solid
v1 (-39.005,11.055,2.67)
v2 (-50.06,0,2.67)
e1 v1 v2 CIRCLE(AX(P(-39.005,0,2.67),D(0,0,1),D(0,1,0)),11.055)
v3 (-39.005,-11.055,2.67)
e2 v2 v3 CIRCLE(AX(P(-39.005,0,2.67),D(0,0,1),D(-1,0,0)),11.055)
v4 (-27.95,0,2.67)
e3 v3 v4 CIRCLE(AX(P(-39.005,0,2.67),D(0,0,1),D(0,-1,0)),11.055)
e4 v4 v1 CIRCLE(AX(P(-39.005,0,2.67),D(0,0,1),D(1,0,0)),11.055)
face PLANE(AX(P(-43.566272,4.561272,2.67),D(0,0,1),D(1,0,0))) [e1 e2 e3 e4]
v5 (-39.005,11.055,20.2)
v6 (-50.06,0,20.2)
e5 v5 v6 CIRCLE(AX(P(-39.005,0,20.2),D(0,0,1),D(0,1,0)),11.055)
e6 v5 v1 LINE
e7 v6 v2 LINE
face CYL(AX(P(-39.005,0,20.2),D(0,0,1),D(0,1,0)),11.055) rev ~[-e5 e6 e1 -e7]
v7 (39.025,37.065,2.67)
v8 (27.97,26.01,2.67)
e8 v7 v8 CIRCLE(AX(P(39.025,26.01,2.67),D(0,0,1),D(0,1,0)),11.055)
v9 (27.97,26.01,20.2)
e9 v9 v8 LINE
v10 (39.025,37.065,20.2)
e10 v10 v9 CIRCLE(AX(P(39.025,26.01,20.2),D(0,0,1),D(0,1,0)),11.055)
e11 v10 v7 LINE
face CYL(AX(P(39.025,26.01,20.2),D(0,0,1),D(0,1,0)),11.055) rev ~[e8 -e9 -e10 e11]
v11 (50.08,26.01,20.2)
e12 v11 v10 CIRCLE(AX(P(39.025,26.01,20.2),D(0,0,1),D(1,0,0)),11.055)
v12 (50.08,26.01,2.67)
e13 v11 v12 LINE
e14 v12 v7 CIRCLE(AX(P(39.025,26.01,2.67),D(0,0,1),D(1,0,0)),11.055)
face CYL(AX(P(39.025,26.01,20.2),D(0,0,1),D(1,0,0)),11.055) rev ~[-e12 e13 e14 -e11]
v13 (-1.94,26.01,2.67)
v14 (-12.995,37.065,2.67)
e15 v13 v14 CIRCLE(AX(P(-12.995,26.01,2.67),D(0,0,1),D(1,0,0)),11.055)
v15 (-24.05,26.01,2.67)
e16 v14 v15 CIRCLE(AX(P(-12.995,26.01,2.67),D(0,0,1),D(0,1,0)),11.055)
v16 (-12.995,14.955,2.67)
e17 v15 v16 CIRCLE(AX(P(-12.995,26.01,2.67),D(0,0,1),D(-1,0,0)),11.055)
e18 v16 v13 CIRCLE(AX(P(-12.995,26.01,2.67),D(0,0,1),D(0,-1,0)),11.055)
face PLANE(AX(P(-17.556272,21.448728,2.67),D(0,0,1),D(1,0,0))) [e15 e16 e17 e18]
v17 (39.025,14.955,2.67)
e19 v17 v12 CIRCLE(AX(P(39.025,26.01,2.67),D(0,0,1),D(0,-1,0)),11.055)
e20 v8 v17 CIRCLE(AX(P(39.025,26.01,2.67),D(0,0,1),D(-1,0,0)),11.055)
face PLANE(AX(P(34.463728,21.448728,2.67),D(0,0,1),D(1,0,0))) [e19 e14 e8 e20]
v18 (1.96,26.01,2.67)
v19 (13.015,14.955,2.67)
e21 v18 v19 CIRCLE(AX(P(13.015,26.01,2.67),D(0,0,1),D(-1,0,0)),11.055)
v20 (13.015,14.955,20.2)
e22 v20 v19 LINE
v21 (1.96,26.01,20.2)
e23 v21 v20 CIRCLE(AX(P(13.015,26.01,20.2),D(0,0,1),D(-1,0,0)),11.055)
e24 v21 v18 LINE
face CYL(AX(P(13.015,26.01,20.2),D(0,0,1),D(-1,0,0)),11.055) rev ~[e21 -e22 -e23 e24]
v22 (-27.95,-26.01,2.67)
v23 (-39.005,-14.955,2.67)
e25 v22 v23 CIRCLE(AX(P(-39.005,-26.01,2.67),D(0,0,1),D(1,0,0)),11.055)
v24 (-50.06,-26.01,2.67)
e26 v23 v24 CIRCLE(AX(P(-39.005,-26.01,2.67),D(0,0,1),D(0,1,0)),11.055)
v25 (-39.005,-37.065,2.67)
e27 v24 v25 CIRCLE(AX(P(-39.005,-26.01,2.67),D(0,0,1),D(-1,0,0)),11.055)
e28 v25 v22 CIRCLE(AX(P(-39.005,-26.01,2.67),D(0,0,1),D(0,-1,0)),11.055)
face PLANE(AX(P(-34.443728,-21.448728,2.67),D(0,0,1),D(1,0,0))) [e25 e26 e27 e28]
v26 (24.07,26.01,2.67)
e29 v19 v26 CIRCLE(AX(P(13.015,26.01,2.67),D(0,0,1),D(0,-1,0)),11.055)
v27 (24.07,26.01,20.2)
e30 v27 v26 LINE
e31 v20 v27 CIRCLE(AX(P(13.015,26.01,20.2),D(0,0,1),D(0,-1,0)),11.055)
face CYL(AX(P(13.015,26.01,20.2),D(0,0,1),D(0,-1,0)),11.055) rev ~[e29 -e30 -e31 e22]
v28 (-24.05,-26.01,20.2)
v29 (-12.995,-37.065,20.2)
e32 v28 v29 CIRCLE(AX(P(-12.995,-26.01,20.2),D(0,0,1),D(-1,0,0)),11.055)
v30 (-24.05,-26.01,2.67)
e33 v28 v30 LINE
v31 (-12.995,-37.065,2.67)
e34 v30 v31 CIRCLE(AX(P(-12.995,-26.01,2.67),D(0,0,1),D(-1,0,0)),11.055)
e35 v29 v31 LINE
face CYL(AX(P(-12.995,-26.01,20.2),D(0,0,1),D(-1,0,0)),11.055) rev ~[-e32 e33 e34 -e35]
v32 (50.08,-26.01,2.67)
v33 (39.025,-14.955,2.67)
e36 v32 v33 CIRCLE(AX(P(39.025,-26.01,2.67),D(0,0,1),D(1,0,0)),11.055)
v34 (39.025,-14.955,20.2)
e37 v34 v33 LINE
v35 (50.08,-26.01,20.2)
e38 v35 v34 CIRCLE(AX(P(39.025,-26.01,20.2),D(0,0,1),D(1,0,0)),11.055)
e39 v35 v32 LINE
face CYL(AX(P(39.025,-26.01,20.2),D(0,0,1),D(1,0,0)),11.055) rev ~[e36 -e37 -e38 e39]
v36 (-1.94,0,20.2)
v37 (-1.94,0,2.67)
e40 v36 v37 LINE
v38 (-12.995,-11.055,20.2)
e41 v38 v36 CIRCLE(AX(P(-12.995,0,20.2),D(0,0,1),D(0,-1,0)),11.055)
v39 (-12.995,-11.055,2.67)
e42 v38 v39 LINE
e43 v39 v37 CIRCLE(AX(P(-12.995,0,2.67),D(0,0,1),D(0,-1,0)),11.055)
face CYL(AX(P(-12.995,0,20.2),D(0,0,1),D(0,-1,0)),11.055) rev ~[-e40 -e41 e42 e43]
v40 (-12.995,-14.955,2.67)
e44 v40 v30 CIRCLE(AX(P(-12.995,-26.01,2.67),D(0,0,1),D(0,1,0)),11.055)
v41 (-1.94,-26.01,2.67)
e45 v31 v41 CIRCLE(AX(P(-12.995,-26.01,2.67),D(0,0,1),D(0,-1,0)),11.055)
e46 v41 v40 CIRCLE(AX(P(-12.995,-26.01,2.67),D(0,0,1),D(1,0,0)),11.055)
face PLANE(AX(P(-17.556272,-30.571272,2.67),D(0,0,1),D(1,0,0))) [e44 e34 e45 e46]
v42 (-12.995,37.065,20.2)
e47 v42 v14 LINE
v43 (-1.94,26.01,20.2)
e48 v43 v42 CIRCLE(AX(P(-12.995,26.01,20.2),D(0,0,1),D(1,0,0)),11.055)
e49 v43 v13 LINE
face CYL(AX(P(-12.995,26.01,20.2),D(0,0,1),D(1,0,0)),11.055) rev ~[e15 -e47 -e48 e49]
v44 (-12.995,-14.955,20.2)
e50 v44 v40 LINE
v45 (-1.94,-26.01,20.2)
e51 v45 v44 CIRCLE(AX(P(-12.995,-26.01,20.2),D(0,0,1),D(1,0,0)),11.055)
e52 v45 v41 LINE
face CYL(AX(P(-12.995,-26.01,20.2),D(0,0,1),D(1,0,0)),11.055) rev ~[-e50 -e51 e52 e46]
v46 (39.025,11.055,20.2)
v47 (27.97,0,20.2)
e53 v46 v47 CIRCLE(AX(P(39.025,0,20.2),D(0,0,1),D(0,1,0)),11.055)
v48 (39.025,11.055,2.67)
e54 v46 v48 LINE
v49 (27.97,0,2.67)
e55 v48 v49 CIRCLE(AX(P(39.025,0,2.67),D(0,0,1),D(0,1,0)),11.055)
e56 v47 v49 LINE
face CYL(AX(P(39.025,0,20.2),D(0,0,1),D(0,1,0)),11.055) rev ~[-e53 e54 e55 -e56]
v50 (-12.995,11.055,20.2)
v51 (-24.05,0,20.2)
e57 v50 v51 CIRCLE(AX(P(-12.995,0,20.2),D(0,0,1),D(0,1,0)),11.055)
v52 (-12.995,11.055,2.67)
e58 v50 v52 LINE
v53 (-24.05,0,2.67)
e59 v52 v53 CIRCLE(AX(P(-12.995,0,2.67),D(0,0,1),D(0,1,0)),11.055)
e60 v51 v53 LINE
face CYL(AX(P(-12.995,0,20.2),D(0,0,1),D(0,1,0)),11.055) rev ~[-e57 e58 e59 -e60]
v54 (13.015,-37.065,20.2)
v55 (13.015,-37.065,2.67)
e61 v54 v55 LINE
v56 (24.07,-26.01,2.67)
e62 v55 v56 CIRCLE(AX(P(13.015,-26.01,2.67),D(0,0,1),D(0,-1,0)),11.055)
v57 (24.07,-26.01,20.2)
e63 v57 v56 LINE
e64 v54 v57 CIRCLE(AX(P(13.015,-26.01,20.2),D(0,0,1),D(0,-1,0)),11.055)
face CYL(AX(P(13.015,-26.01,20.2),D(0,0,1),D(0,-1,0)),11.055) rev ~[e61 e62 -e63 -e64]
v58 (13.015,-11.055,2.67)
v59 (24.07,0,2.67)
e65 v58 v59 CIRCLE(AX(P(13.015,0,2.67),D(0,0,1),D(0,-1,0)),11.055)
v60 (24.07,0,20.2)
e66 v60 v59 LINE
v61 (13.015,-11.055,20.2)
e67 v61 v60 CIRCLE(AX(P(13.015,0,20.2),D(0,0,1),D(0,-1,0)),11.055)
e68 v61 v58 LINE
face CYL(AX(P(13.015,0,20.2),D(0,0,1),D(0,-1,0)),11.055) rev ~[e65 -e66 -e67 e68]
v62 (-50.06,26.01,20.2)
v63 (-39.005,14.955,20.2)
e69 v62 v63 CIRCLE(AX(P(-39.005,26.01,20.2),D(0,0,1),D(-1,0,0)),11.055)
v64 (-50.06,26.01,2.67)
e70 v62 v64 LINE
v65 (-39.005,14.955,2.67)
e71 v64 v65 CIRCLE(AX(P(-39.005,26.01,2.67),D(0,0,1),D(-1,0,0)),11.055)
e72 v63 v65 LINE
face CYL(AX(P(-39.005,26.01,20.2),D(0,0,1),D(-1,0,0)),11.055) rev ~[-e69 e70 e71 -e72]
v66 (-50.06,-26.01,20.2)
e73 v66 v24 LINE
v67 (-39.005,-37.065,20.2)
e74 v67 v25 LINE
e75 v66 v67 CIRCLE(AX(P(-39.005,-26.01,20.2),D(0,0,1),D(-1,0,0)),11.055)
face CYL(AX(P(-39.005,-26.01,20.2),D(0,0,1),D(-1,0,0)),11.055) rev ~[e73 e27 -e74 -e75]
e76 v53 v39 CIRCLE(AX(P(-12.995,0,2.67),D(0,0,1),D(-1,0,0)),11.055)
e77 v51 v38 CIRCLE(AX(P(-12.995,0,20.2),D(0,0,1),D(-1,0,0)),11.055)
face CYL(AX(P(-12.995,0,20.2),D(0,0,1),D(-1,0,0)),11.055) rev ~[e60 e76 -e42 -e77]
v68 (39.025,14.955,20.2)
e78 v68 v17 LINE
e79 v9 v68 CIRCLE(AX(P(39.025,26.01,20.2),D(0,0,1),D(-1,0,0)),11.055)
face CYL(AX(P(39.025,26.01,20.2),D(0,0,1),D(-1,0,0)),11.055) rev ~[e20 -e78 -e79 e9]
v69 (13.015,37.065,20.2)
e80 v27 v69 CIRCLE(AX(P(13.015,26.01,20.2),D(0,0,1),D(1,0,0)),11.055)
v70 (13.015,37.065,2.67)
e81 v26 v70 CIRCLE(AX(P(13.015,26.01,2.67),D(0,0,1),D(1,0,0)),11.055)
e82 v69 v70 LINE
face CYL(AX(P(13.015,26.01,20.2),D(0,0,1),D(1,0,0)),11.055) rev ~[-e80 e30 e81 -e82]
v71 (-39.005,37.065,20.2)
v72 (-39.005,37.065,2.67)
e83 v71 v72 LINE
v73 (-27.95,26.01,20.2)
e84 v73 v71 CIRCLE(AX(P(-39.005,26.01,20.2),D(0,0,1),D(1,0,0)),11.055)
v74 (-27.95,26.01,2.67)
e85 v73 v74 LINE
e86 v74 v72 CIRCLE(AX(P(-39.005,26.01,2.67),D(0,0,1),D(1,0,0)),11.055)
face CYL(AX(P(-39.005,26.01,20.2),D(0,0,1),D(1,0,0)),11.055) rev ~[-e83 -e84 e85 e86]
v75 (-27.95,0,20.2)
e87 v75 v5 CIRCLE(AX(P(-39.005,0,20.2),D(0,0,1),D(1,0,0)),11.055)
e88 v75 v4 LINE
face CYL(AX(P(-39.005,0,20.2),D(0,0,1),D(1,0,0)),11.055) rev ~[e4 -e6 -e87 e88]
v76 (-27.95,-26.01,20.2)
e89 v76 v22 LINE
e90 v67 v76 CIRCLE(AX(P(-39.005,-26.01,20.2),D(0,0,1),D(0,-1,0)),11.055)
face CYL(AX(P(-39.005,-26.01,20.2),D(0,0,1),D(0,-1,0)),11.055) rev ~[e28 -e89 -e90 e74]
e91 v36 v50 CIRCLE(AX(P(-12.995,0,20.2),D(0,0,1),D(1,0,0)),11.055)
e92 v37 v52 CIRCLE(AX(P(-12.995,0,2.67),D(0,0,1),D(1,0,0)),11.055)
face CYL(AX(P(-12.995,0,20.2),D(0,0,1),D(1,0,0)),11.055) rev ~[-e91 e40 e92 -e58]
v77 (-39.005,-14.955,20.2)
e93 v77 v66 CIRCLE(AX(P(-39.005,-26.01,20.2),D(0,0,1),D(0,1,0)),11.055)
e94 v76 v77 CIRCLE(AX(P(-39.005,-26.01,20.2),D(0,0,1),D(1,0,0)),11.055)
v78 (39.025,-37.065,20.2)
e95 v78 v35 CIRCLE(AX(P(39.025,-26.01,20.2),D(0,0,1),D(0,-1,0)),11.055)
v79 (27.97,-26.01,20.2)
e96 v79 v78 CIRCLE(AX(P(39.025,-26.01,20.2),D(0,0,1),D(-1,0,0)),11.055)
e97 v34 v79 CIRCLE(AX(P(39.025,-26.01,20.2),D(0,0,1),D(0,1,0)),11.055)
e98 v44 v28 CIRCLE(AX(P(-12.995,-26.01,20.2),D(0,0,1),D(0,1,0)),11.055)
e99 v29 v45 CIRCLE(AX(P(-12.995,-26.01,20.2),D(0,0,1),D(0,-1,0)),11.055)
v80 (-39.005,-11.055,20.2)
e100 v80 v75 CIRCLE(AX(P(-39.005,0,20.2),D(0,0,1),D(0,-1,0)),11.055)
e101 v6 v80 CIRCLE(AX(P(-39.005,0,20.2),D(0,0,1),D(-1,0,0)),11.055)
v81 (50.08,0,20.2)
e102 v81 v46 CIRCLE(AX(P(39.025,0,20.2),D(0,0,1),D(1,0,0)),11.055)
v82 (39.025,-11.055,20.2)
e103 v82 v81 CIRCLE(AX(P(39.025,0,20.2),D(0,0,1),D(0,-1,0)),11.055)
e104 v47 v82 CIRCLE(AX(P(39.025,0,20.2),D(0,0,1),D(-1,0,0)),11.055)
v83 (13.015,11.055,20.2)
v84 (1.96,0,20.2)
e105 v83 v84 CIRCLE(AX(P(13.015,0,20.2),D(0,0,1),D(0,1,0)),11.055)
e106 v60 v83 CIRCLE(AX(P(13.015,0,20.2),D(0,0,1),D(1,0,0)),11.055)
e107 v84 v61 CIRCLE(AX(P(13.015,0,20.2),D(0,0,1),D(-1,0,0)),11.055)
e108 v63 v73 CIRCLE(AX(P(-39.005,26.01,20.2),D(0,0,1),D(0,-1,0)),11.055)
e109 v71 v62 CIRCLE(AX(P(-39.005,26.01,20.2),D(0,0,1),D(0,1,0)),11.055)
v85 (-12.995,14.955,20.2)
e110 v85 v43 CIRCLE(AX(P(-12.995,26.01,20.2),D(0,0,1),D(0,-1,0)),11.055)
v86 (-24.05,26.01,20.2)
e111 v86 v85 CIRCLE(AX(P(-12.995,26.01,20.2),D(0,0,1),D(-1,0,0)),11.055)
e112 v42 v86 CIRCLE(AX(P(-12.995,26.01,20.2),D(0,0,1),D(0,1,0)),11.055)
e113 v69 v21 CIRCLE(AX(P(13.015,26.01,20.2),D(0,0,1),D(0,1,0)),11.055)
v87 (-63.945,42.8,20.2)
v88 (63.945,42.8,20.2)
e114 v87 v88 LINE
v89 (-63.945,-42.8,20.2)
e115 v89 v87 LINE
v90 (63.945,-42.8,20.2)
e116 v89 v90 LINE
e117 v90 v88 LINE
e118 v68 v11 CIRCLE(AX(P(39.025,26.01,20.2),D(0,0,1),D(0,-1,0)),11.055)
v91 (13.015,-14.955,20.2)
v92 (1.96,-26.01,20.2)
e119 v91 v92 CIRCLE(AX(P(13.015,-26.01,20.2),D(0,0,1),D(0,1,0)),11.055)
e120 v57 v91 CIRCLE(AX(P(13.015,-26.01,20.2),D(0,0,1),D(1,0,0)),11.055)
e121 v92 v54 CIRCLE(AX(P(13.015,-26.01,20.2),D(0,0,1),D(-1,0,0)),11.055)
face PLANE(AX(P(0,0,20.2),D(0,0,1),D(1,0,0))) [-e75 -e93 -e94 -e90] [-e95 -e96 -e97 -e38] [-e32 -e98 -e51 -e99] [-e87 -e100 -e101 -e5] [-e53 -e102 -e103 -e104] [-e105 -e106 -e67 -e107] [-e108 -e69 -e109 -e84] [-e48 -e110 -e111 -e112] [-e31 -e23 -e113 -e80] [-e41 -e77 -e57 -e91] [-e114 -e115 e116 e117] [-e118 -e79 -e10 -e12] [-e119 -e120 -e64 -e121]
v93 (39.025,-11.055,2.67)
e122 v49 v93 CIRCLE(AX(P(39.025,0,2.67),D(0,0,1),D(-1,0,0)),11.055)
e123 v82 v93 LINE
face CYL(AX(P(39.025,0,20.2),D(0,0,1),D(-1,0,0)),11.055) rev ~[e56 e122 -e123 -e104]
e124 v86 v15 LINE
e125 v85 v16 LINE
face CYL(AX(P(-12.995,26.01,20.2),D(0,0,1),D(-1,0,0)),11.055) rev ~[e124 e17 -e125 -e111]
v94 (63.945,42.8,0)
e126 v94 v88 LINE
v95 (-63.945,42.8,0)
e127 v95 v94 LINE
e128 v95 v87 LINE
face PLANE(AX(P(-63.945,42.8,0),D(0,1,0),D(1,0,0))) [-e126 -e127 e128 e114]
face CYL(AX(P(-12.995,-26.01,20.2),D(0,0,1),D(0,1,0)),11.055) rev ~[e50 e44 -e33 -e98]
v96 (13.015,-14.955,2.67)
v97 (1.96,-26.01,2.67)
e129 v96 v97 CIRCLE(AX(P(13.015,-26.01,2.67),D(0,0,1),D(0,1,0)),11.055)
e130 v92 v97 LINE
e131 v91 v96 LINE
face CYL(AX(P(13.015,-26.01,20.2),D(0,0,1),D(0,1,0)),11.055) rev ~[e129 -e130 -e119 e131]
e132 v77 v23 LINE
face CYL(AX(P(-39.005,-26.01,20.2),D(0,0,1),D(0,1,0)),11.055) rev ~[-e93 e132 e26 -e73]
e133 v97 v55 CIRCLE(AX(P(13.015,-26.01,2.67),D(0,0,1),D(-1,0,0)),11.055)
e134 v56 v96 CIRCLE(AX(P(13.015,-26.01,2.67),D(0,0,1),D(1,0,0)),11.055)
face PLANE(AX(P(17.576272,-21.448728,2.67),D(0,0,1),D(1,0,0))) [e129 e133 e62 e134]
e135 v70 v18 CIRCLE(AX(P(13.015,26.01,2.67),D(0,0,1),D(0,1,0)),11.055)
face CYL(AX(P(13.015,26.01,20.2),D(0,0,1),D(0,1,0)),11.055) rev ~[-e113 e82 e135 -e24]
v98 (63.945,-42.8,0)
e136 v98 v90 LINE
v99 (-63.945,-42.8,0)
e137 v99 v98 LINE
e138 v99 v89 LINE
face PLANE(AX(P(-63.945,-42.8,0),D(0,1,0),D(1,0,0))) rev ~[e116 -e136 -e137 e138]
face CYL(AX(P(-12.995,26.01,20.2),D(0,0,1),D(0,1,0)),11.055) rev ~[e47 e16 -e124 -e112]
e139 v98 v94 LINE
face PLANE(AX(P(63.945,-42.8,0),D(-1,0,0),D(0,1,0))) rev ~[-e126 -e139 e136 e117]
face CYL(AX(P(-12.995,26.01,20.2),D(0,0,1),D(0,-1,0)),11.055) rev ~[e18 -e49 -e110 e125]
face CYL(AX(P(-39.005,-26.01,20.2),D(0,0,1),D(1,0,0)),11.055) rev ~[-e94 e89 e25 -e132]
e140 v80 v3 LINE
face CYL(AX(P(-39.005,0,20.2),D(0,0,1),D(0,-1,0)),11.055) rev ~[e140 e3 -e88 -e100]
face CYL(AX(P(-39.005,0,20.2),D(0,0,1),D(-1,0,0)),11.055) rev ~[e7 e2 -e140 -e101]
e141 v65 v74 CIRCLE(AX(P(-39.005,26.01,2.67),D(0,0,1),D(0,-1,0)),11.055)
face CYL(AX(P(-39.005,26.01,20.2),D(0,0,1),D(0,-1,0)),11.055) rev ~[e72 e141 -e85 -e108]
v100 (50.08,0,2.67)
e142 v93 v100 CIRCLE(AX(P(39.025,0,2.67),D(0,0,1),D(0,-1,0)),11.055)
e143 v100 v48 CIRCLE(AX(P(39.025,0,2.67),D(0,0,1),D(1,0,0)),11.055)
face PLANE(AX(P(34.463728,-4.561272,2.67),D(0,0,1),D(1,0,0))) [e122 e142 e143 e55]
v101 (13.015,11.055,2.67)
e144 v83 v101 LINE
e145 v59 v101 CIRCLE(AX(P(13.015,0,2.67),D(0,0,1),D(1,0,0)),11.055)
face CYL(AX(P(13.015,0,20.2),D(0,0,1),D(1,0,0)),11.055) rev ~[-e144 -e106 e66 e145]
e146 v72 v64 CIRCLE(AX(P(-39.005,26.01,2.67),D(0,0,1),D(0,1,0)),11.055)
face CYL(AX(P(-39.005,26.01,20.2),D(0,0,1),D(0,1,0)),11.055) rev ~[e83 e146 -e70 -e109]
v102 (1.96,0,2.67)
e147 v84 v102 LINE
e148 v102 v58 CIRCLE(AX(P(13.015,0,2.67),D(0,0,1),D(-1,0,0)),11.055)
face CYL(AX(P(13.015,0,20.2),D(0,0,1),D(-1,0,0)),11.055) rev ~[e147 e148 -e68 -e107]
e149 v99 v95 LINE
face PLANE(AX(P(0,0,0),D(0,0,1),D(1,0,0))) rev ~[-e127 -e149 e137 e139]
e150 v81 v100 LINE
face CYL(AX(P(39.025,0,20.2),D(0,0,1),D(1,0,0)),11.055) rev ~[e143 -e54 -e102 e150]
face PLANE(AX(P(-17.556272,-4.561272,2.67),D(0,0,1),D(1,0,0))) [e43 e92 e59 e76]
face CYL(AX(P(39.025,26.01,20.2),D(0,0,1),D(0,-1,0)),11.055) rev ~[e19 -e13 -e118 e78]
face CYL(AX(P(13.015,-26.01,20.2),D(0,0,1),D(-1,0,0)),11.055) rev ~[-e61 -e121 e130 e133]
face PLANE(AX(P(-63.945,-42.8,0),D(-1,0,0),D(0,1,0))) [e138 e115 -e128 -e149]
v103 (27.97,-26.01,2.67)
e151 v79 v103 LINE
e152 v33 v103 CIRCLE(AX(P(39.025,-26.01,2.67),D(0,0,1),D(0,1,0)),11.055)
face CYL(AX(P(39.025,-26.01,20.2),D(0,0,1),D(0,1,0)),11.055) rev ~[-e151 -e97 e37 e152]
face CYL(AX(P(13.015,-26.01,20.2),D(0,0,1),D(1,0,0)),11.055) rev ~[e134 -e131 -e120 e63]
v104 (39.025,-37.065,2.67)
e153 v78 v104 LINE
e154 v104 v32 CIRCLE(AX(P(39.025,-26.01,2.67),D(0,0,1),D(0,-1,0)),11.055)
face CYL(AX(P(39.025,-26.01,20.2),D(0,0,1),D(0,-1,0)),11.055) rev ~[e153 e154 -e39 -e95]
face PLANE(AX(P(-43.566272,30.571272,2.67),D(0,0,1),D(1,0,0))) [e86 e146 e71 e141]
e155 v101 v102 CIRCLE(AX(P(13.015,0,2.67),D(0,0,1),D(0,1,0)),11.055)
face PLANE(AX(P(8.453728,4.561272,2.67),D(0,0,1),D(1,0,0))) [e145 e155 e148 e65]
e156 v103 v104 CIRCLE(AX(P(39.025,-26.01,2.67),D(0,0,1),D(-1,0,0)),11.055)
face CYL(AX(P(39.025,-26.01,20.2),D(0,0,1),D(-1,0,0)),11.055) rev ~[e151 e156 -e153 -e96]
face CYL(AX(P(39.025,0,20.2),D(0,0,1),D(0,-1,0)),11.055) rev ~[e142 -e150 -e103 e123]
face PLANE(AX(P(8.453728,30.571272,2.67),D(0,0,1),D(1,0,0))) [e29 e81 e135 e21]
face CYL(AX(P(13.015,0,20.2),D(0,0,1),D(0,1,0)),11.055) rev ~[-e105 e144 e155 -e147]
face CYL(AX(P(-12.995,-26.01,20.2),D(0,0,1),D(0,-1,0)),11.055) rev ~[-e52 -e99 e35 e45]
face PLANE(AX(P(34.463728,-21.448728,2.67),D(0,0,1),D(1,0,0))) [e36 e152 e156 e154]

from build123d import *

# Parameters (mm, degrees)
F0_W     = 127.89
F0_H     = 85.6
F1_DEPTH = 20.2
F3_DEPTH = 17.53


with BuildPart() as f1:
    # F0 (on Top) → F1 (new body)
    with BuildSketch(Plane.XY):
        Rectangle(F0_W, F0_H)
    extrude(amount=F1_DEPTH)

    # F2 (on face) → F3 (cut)
    with BuildSketch(Plane.XY.offset(20.2)):
        with BuildLine():
            Line((-39.005, 26.01), (-39.005, 37.065))
            ThreePointArc((-39.005, 37.065), (-46.822065466, 33.827065466), (-50.06, 26.01))
            Line((-50.06, 26.01), (-39.005, 26.01))
        make_face()
        with BuildLine():
            ThreePointArc((-27.95, 26.01), (-31.187934534, 33.827065466), (-39.005, 37.065))
            Line((-39.005, 37.065), (-39.005, 26.01))
            Line((-39.005, 26.01), (-27.95, 26.01))
        make_face()
        with BuildLine():
            Line((-27.95, 26.01), (-39.005, 26.01))
            Line((-39.005, 26.01), (-39.005, 14.955))
            ThreePointArc((-39.005, 14.955), (-31.187934534, 18.192934534), (-27.95, 26.01))
        make_face()
        with BuildLine():
            Line((-39.005, 14.955), (-39.005, 26.01))
            Line((-39.005, 26.01), (-50.06, 26.01))
            ThreePointArc((-50.06, 26.01), (-46.822065466, 18.192934534), (-39.005, 14.955))
        make_face()
        with BuildLine():
            ThreePointArc((-39.005, 11.055), (-46.822065466, 7.817065466), (-50.06, 0))
            Line((-50.06, 0), (-39.005, 0))
            Line((-39.005, 0), (-39.005, 11.055))
        make_face()
        with BuildLine():
            ThreePointArc((-27.95, 0), (-31.187934534, 7.817065466), (-39.005, 11.055))
            Line((-39.005, 11.055), (-39.005, 0))
            Line((-39.005, 0), (-27.95, 0))
        make_face()
        with BuildLine():
            Line((-39.005, 0), (-50.06, 0))
            ThreePointArc((-50.06, 0), (-46.822065466, -7.817065466), (-39.005, -11.055))
            Line((-39.005, -11.055), (-39.005, 0))
        make_face()
        with BuildLine():
            Line((-27.95, 0), (-39.005, 0))
            Line((-39.005, 0), (-39.005, -11.055))
            ThreePointArc((-39.005, -11.055), (-31.187934534, -7.817065466), (-27.95, 0))
        make_face()
        with BuildLine():
            Line((-39.005, -14.955), (-39.005, -26.01))
            Line((-39.005, -26.01), (-27.95, -26.01))
            ThreePointArc((-27.95, -26.01), (-31.187934534, -18.192934534), (-39.005, -14.955))
        make_face()
        with BuildLine():
            ThreePointArc((-39.005, -14.955), (-46.822065466, -18.192934534), (-50.06, -26.01))
            Line((-50.06, -26.01), (-39.005, -26.01))
            Line((-39.005, -26.01), (-39.005, -14.955))
        make_face()
        with BuildLine():
            Line((-39.005, -26.01), (-50.06, -26.01))
            ThreePointArc((-50.06, -26.01), (-46.822065466, -33.827065466), (-39.005, -37.065))
            Line((-39.005, -37.065), (-39.005, -26.01))
        make_face()
        with BuildLine():
            Line((-39.005, -26.01), (-39.005, -37.065))
            ThreePointArc((-39.005, -37.065), (-31.187934534, -33.827065466), (-27.95, -26.01))
            Line((-27.95, -26.01), (-39.005, -26.01))
        make_face()
        with BuildLine():
            ThreePointArc((-24.05, -26.01), (-20.812065466, -33.827065466), (-12.995, -37.065))
            Line((-12.995, -37.065), (-12.995, -26.01))
            Line((-12.995, -26.01), (-24.05, -26.01))
        make_face()
        with BuildLine():
            Line((-12.995, -26.01), (-12.995, -37.065))
            ThreePointArc((-12.995, -37.065), (-5.177934534, -33.827065466), (-1.94, -26.01))
            Line((-1.94, -26.01), (-12.995, -26.01))
        make_face()
        with BuildLine():
            Line((-12.995, -14.955), (-12.995, -26.01))
            Line((-12.995, -26.01), (-1.94, -26.01))
            ThreePointArc((-1.94, -26.01), (-5.177934534, -18.192934534), (-12.995, -14.955))
        make_face()
        with BuildLine():
            Line((-24.05, -26.01), (-12.995, -26.01))
            Line((-12.995, -26.01), (-12.995, -14.955))
            ThreePointArc((-12.995, -14.955), (-20.812065466, -18.192934534), (-24.05, -26.01))
        make_face()
        with BuildLine():
            Line((-12.995, -11.055), (-12.995, 0))
            Line((-12.995, 0), (-24.05, 0))
            ThreePointArc((-24.05, 0), (-20.812065466, -7.817065466), (-12.995, -11.055))
        make_face()
        with BuildLine():
            Line((-1.94, 0), (-12.995, 0))
            Line((-12.995, 0), (-12.995, -11.055))
            ThreePointArc((-12.995, -11.055), (-5.177934534, -7.817065466), (-1.94, 0))
        make_face()
        with BuildLine():
            ThreePointArc((-1.94, 0), (-5.177934534, 7.817065466), (-12.995, 11.055))
            Line((-12.995, 11.055), (-12.995, 0))
            Line((-12.995, 0), (-1.94, 0))
        make_face()
        with BuildLine():
            Line((-12.995, 0), (-12.995, 11.055))
            ThreePointArc((-12.995, 11.055), (-20.812065466, 7.817065466), (-24.05, 0))
            Line((-24.05, 0), (-12.995, 0))
        make_face()
        with BuildLine():
            Line((-12.995, 14.955), (-12.995, 26.01))
            Line((-12.995, 26.01), (-24.05, 26.01))
            ThreePointArc((-24.05, 26.01), (-20.812065466, 18.192934534), (-12.995, 14.955))
        make_face()
        with BuildLine():
            Line((-1.94, 26.01), (-12.995, 26.01))
            Line((-12.995, 26.01), (-12.995, 14.955))
            ThreePointArc((-12.995, 14.955), (-5.177934534, 18.192934534), (-1.94, 26.01))
        make_face()
        with BuildLine():
            ThreePointArc((-1.94, 26.01), (-5.177934534, 33.827065466), (-12.995, 37.065))
            Line((-12.995, 37.065), (-12.995, 26.01))
            Line((-12.995, 26.01), (-1.94, 26.01))
        make_face()
        with BuildLine():
            Line((-12.995, 26.01), (-12.995, 37.065))
            ThreePointArc((-12.995, 37.065), (-20.812065466, 33.827065466), (-24.05, 26.01))
            Line((-24.05, 26.01), (-12.995, 26.01))
        make_face()
        with BuildLine():
            Line((13.015, 26.01), (13.015, 37.065))
            ThreePointArc((13.015, 37.065), (5.197934534, 33.827065466), (1.96, 26.01))
            Line((1.96, 26.01), (13.015, 26.01))
        make_face()
        with BuildLine():
            ThreePointArc((24.07, 26.01), (20.832065466, 33.827065466), (13.015, 37.065))
            Line((13.015, 37.065), (13.015, 26.01))
            Line((13.015, 26.01), (24.07, 26.01))
        make_face()
        with BuildLine():
            Line((24.07, 26.01), (13.015, 26.01))
            Line((13.015, 26.01), (13.015, 14.955))
            ThreePointArc((13.015, 14.955), (20.832065466, 18.192934534), (24.07, 26.01))
        make_face()
        with BuildLine():
            Line((13.015, 14.955), (13.015, 26.01))
            Line((13.015, 26.01), (1.96, 26.01))
            ThreePointArc((1.96, 26.01), (5.197934534, 18.192934534), (13.015, 14.955))
        make_face()
        with BuildLine():
            Line((13.015, 0), (13.015, 11.055))
            ThreePointArc((13.015, 11.055), (5.197934534, 7.817065466), (1.96, 0))
            Line((1.96, 0), (13.015, 0))
        make_face()
        with BuildLine():
            ThreePointArc((24.07, 0), (20.832065466, 7.817065466), (13.015, 11.055))
            Line((13.015, 11.055), (13.015, 0))
            Line((13.015, 0), (24.07, 0))
        make_face()
        with BuildLine():
            Line((13.015, -11.055), (13.015, 0))
            Line((13.015, 0), (1.96, 0))
            ThreePointArc((1.96, 0), (5.197934534, -7.817065466), (13.015, -11.055))
        make_face()
        with BuildLine():
            ThreePointArc((13.015, -11.055), (20.832065466, -7.817065466), (24.07, 0))
            Line((24.07, 0), (13.015, 0))
            Line((13.015, 0), (13.015, -11.055))
        make_face()
        with BuildLine():
            Line((39.025, -11.055), (39.025, 0))
            Line((39.025, 0), (27.97, 0))
            ThreePointArc((27.97, 0), (31.207934534, -7.817065466), (39.025, -11.055))
        make_face()
        with BuildLine():
            ThreePointArc((39.025, -11.055), (46.842065466, -7.817065466), (50.08, 0))
            Line((50.08, 0), (39.025, 0))
            Line((39.025, 0), (39.025, -11.055))
        make_face()
        with BuildLine():
            Line((39.025, 0), (50.08, 0))
            ThreePointArc((50.08, 0), (46.842065466, 7.817065466), (39.025, 11.055))
            Line((39.025, 11.055), (39.025, 0))
        make_face()
        with BuildLine():
            Line((27.97, 0), (39.025, 0))
            Line((39.025, 0), (39.025, 11.055))
            ThreePointArc((39.025, 11.055), (31.207934534, 7.817065466), (27.97, 0))
        make_face()
        with BuildLine():
            Line((39.025, 14.955), (39.025, 26.01))
            Line((39.025, 26.01), (27.97, 26.01))
            ThreePointArc((27.97, 26.01), (31.207934534, 18.192934534), (39.025, 14.955))
        make_face()
        with BuildLine():
            ThreePointArc((39.025, 14.955), (46.842065466, 18.192934534), (50.08, 26.01))
            Line((50.08, 26.01), (39.025, 26.01))
            Line((39.025, 26.01), (39.025, 14.955))
        make_face()
        with BuildLine():
            ThreePointArc((50.08, 26.01), (46.842065466, 33.827065466), (39.025, 37.065))
            Line((39.025, 37.065), (39.025, 26.01))
            Line((39.025, 26.01), (50.08, 26.01))
        make_face()
        with BuildLine():
            Line((39.025, 26.01), (39.025, 37.065))
            ThreePointArc((39.025, 37.065), (31.207934534, 33.827065466), (27.97, 26.01))
            Line((27.97, 26.01), (39.025, 26.01))
        make_face()
        with BuildLine():
            Line((13.015, -26.01), (24.07, -26.01))
            ThreePointArc((24.07, -26.01), (20.832065466, -18.192934534), (13.015, -14.955))
            Line((13.015, -14.955), (13.015, -26.01))
        make_face()
        with BuildLine():
            Line((1.96, -26.01), (13.015, -26.01))
            Line((13.015, -26.01), (13.015, -14.955))
            ThreePointArc((13.015, -14.955), (5.197934534, -18.192934534), (1.96, -26.01))
        make_face()
        with BuildLine():
            ThreePointArc((1.96, -26.01), (5.197934534, -33.827065466), (13.015, -37.065))
            Line((13.015, -37.065), (13.015, -26.01))
            Line((13.015, -26.01), (1.96, -26.01))
        make_face()
        with BuildLine():
            Line((13.015, -26.01), (13.015, -37.065))
            ThreePointArc((13.015, -37.065), (20.832065466, -33.827065466), (24.07, -26.01))
            Line((24.07, -26.01), (13.015, -26.01))
        make_face()
        with BuildLine():
            Line((27.97, -26.01), (39.025, -26.01))
            Line((39.025, -26.01), (39.025, -14.955))
            ThreePointArc((39.025, -14.955), (31.207934534, -18.192934534), (27.97, -26.01))
        make_face()
        with BuildLine():
            Line((39.025, -26.01), (50.08, -26.01))
            ThreePointArc((50.08, -26.01), (46.842065466, -18.192934534), (39.025, -14.955))
            Line((39.025, -14.955), (39.025, -26.01))
        make_face()
        with BuildLine():
            ThreePointArc((39.025, -37.065), (46.842065466, -33.827065466), (50.08, -26.01))
            Line((50.08, -26.01), (39.025, -26.01))
            Line((39.025, -26.01), (39.025, -37.065))
        make_face()
        with BuildLine():
            Line((39.025, -37.065), (39.025, -26.01))
            Line((39.025, -26.01), (27.97, -26.01))
            ThreePointArc((27.97, -26.01), (31.207934534, -33.827065466), (39.025, -37.065))
        make_face()
    extrude(amount=-F3_DEPTH, mode=Mode.SUBTRACT)


solid = f1.part
